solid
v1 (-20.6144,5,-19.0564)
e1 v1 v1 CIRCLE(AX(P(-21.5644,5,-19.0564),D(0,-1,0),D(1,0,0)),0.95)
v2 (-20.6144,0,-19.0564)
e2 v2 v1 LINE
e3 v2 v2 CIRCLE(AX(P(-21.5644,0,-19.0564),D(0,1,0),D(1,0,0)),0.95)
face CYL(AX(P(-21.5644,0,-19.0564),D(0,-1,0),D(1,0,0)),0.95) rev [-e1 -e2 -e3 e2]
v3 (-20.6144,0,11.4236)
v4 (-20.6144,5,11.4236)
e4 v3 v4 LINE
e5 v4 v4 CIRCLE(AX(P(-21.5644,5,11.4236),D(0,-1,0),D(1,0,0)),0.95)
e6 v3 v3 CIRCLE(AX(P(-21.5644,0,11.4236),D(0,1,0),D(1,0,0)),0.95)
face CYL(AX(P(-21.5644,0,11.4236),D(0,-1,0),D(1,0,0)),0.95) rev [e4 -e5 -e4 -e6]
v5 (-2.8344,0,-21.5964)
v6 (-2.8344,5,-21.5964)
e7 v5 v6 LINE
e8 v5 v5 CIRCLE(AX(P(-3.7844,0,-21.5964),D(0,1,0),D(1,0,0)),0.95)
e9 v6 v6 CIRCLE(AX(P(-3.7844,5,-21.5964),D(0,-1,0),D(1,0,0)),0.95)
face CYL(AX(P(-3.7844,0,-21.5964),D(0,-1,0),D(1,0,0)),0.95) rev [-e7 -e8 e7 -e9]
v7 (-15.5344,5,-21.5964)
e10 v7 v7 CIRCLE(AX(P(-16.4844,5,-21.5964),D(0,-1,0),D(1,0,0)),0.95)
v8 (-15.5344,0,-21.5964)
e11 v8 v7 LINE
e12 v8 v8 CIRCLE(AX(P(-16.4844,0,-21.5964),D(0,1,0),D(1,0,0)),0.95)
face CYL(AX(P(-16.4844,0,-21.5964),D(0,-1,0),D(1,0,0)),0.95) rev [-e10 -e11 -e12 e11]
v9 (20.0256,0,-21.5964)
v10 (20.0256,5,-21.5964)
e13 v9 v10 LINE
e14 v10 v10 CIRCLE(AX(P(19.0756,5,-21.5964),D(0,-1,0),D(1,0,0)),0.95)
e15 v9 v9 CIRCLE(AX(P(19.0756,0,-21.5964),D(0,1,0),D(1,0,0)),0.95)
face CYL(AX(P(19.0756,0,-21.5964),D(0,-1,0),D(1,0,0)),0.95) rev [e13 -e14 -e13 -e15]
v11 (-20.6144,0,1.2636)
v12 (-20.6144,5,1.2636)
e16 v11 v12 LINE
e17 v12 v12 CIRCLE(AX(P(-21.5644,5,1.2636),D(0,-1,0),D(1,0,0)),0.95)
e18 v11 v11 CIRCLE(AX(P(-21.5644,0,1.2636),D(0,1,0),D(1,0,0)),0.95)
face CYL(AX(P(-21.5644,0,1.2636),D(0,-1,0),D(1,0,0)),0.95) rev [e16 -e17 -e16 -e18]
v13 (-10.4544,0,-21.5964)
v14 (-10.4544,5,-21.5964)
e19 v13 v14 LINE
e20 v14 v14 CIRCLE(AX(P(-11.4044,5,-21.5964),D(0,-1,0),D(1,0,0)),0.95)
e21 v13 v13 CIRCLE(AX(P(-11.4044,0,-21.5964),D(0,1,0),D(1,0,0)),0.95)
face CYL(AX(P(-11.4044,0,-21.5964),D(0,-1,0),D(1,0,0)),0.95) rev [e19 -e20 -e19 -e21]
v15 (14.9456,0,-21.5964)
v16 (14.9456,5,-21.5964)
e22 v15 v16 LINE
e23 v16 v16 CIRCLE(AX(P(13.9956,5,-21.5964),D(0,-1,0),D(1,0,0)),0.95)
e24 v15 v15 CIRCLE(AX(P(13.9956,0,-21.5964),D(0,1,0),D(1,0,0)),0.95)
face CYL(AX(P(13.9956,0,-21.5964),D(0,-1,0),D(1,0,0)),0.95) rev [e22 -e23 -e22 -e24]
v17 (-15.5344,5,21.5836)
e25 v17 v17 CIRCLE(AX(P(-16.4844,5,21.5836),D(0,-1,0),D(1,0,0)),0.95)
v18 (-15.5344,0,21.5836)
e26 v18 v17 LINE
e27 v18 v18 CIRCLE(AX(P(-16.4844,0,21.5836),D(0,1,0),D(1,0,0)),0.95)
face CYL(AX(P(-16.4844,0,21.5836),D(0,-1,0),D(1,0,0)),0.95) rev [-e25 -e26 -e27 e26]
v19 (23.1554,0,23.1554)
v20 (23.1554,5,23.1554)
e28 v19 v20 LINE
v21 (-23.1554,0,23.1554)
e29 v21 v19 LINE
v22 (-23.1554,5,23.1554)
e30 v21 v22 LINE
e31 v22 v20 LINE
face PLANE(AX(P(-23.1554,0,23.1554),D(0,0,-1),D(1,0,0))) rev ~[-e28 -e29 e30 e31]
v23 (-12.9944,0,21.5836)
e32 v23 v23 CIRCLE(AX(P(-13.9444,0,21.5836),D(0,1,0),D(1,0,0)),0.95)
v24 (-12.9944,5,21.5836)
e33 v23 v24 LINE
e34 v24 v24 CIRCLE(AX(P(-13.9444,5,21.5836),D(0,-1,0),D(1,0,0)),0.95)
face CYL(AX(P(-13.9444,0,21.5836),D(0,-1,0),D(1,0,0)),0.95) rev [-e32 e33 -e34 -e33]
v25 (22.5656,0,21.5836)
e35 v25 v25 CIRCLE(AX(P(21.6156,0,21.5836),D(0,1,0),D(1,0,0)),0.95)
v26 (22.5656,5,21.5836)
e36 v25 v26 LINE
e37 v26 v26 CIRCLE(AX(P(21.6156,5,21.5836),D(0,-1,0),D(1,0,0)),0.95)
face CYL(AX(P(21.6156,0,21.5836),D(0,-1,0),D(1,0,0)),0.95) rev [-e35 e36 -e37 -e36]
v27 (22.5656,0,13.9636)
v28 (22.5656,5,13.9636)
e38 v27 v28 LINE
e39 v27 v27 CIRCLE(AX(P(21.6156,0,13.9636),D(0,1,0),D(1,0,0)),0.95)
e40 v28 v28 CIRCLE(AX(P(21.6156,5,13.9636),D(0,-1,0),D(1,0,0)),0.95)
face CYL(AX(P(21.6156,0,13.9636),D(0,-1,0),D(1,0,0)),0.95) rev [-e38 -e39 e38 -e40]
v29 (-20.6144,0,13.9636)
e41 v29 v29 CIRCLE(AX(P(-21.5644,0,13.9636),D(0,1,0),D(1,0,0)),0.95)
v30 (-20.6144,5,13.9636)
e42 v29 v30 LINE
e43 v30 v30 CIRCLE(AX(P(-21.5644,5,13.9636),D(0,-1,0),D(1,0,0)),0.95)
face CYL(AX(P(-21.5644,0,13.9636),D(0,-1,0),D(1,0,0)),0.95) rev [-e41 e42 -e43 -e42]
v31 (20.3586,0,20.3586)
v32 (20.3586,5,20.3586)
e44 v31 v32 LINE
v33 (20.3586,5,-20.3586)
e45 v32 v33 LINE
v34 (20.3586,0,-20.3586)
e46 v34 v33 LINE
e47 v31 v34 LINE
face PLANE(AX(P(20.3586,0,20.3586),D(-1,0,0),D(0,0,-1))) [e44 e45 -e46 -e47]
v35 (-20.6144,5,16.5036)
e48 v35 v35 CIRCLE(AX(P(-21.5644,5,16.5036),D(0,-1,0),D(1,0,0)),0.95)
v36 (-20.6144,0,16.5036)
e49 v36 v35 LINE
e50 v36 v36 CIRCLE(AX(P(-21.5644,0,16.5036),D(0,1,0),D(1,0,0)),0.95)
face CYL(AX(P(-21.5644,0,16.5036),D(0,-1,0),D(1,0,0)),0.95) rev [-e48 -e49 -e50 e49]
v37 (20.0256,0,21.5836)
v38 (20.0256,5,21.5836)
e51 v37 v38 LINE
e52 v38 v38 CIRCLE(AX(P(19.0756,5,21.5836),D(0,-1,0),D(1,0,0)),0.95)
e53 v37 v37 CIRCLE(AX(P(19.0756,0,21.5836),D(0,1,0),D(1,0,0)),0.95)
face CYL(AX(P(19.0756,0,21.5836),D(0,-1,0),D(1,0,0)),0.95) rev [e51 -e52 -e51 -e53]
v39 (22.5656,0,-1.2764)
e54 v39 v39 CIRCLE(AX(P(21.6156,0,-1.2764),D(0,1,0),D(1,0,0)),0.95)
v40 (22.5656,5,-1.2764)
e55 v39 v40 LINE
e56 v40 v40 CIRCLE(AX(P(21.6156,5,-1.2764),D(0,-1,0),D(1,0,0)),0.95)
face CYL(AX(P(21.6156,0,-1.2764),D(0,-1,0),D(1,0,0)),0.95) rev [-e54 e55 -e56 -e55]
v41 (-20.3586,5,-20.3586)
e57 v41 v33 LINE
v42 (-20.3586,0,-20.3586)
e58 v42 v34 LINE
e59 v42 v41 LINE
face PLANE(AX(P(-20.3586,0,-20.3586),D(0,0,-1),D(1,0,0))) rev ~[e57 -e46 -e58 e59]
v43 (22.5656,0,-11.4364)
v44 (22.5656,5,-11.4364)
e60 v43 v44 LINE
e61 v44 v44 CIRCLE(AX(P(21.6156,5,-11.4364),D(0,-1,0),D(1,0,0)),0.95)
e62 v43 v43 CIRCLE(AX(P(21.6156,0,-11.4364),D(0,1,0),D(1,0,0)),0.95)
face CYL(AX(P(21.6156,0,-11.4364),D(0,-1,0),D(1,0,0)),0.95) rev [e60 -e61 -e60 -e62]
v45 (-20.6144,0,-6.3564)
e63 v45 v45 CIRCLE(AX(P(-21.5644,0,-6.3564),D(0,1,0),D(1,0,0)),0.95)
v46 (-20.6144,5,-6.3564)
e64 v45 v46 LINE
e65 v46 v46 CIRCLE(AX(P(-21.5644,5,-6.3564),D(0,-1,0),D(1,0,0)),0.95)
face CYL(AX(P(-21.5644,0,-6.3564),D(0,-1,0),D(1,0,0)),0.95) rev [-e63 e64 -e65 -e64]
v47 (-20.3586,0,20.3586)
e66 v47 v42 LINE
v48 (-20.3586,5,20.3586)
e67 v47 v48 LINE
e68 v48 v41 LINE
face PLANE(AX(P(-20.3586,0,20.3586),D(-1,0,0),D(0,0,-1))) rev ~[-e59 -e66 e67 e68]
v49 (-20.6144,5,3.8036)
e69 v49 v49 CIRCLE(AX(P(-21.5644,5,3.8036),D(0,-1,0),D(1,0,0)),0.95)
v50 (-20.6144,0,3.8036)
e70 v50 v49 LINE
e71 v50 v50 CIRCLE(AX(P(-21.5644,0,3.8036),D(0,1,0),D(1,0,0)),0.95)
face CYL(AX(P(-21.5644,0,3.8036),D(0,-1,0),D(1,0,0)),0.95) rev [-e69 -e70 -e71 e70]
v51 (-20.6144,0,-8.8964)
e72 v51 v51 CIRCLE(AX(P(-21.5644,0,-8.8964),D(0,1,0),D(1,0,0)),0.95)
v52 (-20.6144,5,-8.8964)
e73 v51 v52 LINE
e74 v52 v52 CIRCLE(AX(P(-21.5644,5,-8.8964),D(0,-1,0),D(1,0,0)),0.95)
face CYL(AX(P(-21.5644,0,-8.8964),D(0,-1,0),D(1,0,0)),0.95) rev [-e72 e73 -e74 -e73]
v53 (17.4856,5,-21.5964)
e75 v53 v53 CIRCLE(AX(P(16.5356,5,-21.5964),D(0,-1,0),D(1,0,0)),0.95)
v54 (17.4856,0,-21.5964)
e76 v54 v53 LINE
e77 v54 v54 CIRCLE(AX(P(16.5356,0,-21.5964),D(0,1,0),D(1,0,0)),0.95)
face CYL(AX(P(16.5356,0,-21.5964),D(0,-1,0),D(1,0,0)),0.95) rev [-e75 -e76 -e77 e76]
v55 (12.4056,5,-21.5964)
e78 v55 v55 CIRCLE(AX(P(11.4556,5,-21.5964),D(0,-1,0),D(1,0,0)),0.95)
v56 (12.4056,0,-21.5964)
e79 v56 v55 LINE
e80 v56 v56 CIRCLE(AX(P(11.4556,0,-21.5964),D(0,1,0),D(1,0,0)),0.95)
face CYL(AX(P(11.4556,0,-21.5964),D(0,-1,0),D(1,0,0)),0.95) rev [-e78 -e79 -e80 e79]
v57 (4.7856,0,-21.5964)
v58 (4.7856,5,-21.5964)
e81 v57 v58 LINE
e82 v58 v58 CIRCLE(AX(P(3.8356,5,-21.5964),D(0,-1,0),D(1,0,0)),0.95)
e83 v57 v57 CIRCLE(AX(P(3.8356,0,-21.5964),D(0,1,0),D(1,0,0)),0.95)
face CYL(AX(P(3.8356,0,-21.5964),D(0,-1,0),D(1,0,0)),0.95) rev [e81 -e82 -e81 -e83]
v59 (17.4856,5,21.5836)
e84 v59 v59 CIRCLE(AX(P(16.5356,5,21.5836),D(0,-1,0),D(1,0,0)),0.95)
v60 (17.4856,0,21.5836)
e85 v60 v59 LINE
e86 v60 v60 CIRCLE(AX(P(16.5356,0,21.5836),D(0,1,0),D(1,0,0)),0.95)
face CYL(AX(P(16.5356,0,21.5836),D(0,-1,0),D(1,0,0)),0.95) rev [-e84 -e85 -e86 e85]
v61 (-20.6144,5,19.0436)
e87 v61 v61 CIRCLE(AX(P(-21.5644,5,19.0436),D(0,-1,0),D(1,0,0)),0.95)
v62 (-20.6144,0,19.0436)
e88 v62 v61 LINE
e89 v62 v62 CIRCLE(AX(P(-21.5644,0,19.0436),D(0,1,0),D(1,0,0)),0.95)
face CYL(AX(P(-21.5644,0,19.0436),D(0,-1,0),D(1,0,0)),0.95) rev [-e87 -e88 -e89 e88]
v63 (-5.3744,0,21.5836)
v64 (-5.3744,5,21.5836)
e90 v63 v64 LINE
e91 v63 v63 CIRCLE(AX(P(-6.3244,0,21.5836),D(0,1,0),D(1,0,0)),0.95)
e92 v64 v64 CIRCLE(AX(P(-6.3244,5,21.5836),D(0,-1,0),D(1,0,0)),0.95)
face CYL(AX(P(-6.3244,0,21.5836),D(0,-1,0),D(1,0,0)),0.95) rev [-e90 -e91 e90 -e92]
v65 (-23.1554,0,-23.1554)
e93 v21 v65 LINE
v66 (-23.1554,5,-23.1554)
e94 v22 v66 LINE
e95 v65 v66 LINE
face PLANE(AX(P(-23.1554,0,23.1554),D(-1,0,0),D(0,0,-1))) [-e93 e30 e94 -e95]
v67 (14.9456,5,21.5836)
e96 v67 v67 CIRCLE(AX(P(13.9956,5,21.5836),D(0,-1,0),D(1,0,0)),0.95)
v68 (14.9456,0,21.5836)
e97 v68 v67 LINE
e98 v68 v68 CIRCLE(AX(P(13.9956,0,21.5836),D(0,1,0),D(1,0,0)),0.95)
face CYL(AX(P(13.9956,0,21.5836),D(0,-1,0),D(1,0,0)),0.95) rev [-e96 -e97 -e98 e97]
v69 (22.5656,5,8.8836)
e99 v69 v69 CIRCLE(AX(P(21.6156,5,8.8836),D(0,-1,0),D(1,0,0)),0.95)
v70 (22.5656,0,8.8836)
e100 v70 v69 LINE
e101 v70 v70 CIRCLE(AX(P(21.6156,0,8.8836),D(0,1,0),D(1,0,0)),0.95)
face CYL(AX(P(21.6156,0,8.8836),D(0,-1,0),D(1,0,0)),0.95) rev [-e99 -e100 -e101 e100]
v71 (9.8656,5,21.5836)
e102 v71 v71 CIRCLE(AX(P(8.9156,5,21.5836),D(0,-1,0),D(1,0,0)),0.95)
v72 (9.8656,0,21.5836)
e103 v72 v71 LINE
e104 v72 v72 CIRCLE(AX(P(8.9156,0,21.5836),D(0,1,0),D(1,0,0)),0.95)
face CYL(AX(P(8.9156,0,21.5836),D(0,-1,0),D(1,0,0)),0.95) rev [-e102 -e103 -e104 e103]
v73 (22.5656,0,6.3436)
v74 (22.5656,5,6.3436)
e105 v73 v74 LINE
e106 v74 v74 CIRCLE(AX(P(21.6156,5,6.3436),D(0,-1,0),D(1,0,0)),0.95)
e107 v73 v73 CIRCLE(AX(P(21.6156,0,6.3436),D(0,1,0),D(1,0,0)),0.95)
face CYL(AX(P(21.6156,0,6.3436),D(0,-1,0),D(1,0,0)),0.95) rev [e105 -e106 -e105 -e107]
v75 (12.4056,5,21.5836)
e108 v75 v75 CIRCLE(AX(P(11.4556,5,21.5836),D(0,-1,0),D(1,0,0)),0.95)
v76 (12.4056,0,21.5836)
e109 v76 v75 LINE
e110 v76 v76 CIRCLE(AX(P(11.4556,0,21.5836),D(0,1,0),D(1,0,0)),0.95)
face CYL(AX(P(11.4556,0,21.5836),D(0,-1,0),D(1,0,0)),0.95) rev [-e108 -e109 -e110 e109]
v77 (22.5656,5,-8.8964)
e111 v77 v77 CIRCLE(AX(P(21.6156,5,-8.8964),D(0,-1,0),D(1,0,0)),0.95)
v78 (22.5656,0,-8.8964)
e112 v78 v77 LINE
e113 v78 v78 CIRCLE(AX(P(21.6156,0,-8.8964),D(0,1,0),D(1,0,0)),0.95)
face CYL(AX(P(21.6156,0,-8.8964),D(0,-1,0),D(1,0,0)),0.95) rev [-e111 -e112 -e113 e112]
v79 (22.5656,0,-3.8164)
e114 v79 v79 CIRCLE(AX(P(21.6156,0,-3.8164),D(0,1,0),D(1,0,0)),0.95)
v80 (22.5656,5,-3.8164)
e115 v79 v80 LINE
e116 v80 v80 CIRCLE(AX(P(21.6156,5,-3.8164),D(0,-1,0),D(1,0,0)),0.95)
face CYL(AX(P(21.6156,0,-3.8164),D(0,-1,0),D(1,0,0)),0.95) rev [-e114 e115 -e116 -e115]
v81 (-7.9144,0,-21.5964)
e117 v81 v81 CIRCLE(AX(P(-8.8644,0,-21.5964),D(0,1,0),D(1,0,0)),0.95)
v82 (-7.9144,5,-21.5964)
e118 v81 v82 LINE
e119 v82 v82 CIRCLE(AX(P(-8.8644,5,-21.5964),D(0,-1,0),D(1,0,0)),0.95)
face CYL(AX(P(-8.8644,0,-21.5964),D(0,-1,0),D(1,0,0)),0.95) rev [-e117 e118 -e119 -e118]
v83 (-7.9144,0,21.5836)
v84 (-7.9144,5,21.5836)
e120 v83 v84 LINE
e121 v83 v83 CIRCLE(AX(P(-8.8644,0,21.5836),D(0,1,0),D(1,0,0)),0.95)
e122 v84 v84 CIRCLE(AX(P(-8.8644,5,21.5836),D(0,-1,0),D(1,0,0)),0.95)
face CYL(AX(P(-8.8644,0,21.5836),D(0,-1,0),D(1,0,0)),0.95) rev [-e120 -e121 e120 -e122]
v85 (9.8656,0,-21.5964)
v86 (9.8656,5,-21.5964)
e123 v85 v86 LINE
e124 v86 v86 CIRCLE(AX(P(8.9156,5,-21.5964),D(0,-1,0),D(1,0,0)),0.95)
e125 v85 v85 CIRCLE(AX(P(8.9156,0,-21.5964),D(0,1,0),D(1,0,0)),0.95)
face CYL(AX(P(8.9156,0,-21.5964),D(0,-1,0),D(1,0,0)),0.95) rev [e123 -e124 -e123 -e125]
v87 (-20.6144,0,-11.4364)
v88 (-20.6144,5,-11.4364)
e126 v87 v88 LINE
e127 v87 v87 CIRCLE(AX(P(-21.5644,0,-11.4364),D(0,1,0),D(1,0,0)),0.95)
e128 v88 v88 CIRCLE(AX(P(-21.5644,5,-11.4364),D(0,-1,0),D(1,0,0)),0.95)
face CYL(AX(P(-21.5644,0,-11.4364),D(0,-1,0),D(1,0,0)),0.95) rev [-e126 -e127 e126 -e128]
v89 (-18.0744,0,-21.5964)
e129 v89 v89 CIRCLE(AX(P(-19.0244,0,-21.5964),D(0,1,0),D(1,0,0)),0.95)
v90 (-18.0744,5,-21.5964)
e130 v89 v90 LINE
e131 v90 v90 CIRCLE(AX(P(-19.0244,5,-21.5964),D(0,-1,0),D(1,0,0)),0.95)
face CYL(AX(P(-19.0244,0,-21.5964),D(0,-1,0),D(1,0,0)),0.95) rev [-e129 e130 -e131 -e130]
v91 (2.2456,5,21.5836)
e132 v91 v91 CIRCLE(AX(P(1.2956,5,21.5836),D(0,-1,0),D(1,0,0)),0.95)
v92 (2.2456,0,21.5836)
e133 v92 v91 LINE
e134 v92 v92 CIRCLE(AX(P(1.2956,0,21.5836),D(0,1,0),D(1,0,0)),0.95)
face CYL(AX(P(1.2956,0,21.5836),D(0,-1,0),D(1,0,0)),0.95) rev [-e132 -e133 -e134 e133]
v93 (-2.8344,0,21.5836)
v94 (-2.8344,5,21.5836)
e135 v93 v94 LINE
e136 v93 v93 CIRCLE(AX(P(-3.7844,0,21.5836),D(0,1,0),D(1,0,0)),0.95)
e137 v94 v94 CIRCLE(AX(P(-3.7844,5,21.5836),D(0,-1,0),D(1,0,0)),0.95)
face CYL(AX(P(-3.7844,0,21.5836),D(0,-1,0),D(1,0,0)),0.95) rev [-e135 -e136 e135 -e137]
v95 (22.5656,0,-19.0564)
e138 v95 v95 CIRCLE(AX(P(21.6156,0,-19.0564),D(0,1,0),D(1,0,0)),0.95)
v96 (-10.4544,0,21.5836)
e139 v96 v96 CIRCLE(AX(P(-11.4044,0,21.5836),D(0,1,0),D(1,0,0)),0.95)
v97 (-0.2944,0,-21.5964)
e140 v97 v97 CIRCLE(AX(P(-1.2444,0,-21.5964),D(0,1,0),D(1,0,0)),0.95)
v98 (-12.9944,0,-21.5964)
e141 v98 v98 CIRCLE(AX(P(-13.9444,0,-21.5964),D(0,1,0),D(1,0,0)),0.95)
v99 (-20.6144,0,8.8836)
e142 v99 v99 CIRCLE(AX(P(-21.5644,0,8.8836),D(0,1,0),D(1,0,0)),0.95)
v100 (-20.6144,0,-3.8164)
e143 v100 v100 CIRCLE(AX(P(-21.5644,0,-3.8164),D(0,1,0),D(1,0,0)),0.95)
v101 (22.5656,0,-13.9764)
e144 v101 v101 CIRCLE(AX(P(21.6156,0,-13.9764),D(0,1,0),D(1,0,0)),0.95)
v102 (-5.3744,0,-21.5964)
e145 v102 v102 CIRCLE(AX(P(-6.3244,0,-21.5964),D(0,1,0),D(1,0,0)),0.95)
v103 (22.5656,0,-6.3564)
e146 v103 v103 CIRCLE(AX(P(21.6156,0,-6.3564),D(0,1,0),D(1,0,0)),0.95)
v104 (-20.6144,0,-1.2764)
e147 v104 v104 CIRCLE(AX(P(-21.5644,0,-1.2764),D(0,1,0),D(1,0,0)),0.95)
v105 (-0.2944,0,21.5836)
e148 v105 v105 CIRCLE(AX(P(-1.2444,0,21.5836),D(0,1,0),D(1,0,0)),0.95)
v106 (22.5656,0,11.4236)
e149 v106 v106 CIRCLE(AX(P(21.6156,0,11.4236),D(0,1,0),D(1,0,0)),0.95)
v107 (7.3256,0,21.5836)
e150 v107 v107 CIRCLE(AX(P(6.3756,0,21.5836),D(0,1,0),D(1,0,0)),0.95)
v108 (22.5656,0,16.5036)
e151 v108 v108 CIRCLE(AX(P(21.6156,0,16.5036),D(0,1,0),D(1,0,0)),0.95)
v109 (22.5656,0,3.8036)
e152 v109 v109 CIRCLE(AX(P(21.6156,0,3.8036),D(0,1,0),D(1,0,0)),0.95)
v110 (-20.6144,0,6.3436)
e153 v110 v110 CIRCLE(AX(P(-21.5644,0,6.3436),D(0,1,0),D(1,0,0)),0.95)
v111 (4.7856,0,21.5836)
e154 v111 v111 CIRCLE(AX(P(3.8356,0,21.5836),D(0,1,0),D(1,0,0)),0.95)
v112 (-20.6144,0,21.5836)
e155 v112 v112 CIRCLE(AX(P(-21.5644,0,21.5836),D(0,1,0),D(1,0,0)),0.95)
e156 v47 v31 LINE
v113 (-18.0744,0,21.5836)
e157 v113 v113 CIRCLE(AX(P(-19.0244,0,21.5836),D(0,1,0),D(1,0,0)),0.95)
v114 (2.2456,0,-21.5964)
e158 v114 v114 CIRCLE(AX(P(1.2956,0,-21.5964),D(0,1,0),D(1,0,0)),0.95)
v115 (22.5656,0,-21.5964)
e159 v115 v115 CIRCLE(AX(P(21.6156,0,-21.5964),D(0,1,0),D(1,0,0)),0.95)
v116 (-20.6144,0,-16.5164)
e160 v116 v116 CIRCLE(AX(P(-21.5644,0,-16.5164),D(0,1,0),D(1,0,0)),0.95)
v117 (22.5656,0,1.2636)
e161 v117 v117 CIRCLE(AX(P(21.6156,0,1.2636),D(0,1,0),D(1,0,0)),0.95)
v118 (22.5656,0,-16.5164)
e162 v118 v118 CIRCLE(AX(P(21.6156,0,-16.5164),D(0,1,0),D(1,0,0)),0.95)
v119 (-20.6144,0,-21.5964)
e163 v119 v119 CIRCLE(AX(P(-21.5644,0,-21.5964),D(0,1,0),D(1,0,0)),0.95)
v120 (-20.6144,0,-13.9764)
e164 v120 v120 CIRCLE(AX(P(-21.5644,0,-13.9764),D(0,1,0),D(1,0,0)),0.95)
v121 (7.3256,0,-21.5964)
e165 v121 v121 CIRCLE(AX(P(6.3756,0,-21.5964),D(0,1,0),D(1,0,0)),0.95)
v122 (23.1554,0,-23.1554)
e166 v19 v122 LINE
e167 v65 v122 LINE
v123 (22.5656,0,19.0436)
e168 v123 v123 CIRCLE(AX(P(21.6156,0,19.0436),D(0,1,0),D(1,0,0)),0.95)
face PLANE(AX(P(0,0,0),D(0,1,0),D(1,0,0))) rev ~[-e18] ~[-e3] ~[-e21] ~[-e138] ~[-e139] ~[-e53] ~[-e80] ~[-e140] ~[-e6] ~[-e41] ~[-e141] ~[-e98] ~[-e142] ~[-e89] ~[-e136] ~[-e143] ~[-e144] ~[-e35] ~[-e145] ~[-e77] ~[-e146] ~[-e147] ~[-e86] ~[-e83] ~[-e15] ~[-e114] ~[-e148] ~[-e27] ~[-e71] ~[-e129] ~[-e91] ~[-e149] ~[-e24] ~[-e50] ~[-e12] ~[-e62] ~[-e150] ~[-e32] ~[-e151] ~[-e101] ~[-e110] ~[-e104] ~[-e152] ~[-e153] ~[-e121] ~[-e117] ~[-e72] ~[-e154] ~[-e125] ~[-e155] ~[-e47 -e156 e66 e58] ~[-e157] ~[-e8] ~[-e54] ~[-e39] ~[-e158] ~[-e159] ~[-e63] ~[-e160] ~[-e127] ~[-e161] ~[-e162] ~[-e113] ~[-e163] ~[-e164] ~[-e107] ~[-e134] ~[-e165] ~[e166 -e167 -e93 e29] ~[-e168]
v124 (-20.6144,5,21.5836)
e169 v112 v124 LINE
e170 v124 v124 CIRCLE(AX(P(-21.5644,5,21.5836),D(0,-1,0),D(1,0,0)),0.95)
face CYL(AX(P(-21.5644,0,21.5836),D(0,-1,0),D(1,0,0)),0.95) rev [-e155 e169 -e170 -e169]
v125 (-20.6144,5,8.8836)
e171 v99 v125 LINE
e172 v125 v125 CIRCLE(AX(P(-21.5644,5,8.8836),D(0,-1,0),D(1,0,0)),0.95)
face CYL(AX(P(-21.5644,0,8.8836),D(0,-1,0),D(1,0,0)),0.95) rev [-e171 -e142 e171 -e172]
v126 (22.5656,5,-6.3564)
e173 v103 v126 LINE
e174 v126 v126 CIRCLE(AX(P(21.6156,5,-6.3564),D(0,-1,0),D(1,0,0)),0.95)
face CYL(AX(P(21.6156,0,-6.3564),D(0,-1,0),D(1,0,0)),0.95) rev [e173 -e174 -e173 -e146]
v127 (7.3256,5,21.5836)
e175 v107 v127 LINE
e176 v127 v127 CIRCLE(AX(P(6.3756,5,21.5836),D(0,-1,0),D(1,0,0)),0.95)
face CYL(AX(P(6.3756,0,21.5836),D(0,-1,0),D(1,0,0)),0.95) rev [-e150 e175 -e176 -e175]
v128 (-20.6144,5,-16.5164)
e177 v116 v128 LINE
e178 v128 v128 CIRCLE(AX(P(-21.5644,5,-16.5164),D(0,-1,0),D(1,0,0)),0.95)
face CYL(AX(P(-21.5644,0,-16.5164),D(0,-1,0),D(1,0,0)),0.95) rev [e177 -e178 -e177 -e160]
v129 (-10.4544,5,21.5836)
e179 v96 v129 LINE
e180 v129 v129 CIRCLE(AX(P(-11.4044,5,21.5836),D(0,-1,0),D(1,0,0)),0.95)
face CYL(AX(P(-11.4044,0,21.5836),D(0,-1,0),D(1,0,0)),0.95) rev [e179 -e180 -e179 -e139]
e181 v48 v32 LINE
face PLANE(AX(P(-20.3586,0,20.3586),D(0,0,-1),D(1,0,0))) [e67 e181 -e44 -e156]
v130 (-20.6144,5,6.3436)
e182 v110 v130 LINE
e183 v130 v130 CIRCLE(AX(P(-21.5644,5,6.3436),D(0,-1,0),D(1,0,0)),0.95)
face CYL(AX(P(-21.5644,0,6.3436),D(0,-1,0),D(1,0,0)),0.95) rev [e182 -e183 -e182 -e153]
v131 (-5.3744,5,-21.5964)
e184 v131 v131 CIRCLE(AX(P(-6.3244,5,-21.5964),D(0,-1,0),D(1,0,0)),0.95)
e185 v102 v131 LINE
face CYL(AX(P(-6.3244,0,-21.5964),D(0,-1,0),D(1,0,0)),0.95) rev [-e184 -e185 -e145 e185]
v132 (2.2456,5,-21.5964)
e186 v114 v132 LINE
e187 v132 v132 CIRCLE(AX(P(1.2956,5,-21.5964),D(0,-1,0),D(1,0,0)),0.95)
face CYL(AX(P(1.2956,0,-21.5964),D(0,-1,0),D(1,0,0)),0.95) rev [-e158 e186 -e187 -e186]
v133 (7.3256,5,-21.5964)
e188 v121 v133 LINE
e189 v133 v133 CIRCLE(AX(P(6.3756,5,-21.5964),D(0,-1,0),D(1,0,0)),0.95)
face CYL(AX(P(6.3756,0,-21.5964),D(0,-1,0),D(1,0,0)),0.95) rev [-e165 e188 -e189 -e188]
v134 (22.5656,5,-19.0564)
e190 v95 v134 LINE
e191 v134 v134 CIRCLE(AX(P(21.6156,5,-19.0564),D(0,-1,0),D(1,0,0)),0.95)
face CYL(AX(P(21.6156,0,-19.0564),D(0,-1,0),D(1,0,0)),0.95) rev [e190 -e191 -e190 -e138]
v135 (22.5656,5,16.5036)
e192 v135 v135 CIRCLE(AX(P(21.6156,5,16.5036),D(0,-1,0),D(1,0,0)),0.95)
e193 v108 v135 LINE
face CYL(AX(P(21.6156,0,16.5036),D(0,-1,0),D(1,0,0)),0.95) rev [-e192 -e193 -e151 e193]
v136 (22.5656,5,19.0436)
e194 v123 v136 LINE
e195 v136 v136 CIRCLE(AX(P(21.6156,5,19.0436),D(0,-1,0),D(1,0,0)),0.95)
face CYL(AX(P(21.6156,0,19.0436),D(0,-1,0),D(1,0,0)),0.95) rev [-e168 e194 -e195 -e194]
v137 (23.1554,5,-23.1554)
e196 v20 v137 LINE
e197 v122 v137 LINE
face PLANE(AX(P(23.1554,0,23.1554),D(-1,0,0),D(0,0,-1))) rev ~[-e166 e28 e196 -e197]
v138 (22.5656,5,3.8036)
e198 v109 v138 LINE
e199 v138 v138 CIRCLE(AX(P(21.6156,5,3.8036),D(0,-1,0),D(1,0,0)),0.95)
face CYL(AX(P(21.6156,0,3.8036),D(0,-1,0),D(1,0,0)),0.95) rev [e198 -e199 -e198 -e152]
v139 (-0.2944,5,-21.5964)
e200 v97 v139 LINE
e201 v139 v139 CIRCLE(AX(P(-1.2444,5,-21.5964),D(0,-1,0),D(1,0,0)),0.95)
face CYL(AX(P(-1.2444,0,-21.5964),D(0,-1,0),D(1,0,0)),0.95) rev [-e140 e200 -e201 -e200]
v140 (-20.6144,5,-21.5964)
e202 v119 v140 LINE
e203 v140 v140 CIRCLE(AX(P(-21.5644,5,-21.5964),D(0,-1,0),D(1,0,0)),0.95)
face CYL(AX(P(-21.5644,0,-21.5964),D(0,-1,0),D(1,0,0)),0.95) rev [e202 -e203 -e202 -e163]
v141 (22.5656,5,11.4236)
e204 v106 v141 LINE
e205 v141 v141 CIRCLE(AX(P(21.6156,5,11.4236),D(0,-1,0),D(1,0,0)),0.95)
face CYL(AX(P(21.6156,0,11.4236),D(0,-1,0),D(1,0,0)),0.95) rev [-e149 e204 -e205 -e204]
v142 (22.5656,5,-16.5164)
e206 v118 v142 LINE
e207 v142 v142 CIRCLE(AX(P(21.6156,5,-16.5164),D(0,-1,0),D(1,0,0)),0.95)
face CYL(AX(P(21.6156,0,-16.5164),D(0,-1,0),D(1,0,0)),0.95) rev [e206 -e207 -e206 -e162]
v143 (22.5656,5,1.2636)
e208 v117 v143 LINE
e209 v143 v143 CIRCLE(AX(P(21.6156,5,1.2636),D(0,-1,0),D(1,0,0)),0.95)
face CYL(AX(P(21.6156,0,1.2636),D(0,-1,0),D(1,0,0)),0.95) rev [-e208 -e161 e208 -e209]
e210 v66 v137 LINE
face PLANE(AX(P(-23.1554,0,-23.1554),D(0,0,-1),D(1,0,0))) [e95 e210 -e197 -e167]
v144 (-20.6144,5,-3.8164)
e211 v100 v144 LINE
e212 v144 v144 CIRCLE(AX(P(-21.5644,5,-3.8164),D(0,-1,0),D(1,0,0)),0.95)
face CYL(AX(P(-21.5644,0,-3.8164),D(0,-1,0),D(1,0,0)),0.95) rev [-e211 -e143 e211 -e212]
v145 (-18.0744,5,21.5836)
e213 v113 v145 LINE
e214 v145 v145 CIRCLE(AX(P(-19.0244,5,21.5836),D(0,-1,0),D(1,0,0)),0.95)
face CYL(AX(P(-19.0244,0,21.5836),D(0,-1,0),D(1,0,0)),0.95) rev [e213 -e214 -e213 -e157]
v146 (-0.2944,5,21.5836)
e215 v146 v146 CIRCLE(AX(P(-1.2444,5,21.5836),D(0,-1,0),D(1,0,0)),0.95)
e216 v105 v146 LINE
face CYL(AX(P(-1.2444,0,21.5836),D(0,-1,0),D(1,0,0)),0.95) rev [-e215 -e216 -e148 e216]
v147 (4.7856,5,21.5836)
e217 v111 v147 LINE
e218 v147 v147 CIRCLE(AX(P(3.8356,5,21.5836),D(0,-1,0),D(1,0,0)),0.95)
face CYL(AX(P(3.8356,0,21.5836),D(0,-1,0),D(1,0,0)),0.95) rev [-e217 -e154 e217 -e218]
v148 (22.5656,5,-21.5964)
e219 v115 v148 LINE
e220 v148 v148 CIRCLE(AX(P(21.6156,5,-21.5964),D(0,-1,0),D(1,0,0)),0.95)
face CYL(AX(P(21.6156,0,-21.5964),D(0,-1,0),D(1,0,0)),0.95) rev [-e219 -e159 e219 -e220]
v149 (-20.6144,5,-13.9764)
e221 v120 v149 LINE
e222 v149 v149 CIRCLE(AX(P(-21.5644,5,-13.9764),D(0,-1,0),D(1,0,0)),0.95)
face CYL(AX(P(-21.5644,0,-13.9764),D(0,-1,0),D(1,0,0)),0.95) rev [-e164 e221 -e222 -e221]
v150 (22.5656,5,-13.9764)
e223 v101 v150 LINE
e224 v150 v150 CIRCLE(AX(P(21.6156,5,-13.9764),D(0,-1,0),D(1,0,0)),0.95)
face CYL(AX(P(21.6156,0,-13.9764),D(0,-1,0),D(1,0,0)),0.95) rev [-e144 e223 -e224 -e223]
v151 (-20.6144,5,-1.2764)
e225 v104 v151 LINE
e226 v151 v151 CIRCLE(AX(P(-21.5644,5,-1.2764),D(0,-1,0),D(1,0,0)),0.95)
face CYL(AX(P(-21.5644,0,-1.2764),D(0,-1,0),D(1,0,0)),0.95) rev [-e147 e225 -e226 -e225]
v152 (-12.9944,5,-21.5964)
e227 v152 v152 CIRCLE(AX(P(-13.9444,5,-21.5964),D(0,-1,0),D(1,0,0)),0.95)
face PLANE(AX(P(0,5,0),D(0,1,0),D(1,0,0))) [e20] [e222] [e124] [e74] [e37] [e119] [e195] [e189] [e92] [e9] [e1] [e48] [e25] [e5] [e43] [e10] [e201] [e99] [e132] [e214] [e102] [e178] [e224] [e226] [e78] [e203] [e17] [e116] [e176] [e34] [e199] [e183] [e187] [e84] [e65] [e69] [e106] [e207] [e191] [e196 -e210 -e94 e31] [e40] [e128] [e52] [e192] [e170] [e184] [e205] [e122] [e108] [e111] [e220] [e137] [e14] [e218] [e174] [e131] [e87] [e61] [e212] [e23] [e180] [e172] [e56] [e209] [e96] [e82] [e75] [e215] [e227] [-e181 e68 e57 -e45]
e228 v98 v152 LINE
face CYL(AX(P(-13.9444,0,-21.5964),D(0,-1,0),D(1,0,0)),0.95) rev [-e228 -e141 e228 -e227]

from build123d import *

# Parameters (mm, degrees)
SKETCH2_W           = 46.3108
SKETCH2_H           = 46.3108
SKETCH2_W_2         = 40.7172
SKETCH2_H_2         = 40.7172
BOSS_EXTRUDE1_DEPTH = 5
SKETCH1_R           = 0.95
CUT_EXTRUDE1_DEPTH  = 6


with BuildPart() as part:
    # Sketch2 → Boss-Extrude1 (new body)
    with BuildSketch(Plane(origin=(0, 0, 0), x_dir=(1, 0, 0), z_dir=(0, 1, 0))):
        Rectangle(SKETCH2_W, SKETCH2_H)
        Rectangle(SKETCH2_W_2, SKETCH2_H_2, mode=Mode.SUBTRACT)
    extrude(amount=BOSS_EXTRUDE1_DEPTH)

    # Sketch1 → Cut-Extrude1 (cut, through all)
    with BuildSketch(Plane(origin=(0, 0, 0), x_dir=(1, 0, 0), z_dir=(0, 1, 0))):
        with Locations((-21.5644, 21.5964)):
            Circle(SKETCH1_R)
        with Locations((-19.0244, 21.5964)):
            Circle(SKETCH1_R)
        with Locations((-21.5644, 19.0564)):
            Circle(SKETCH1_R)
        with Locations((-16.4844, 21.5964)):
            Circle(SKETCH1_R)
        with Locations((-13.9444, 21.5964)):
            Circle(SKETCH1_R)
        with Locations((-11.4044, 21.5964)):
            Circle(SKETCH1_R)
        with Locations((-8.8644, 21.5964)):
            Circle(SKETCH1_R)
        with Locations((-6.3244, 21.5964)):
            Circle(SKETCH1_R)
        with Locations((-3.7844, 21.5964)):
            Circle(SKETCH1_R)
        with Locations((-1.2444, 21.5964)):
            Circle(SKETCH1_R)
        with Locations((1.2956, 21.5964)):
            Circle(SKETCH1_R)
        with Locations((3.8356, 21.5964)):
            Circle(SKETCH1_R)
        with Locations((6.3756, 21.5964)):
            Circle(SKETCH1_R)
        with Locations((8.9156, 21.5964)):
            Circle(SKETCH1_R)
        with Locations((11.4556, 21.5964)):
            Circle(SKETCH1_R)
        with Locations((13.9956, 21.5964)):
            Circle(SKETCH1_R)
        with Locations((16.5356, 21.5964)):
            Circle(SKETCH1_R)
        with Locations((19.0756, 21.5964)):
            Circle(SKETCH1_R)
        with Locations((21.6156, 21.5964)):
            Circle(SKETCH1_R)
        with Locations((-21.5644, 16.5164)):
            Circle(SKETCH1_R)
        with Locations((-21.5644, 13.9764)):
            Circle(SKETCH1_R)
        with Locations((-21.5644, 11.4364)):
            Circle(SKETCH1_R)
        with Locations((-21.5644, 8.8964)):
            Circle(SKETCH1_R)
        with Locations((-21.5644, 6.3564)):
            Circle(SKETCH1_R)
        with Locations((-21.5644, 3.8164)):
            Circle(SKETCH1_R)
        with Locations((-21.5644, 1.2764)):
            Circle(SKETCH1_R)
        with Locations((-21.5644, -1.2636)):
            Circle(SKETCH1_R)
        with Locations((-21.5644, -3.8036)):
            Circle(SKETCH1_R)
        with Locations((-21.5644, -6.3436)):
            Circle(SKETCH1_R)
        with Locations((-21.5644, -8.8836)):
            Circle(SKETCH1_R)
        with Locations((-21.5644, -11.4236)):
            Circle(SKETCH1_R)
        with Locations((-21.5644, -13.9636)):
            Circle(SKETCH1_R)
        with Locations((-21.5644, -16.5036)):
            Circle(SKETCH1_R)
        with Locations((-21.5644, -19.0436)):
            Circle(SKETCH1_R)
        with Locations((-21.5644, -21.5836)):
            Circle(SKETCH1_R)
        with Locations((-19.0244, -21.5836)):
            Circle(SKETCH1_R)
        with Locations((-16.4844, -21.5836)):
            Circle(SKETCH1_R)
        with Locations((-13.9444, -21.5836)):
            Circle(SKETCH1_R)
        with Locations((-11.4044, -21.5836)):
            Circle(SKETCH1_R)
        with Locations((-8.8644, -21.5836)):
            Circle(SKETCH1_R)
        with Locations((-6.3244, -21.5836)):
            Circle(SKETCH1_R)
        with Locations((-3.7844, -21.5836)):
            Circle(SKETCH1_R)
        with Locations((-1.2444, -21.5836)):
            Circle(SKETCH1_R)
        with Locations((1.2956, -21.5836)):
            Circle(SKETCH1_R)
        with Locations((3.8356, -21.5836)):
            Circle(SKETCH1_R)
        with Locations((6.3756, -21.5836)):
            Circle(SKETCH1_R)
        with Locations((8.9156, -21.5836)):
            Circle(SKETCH1_R)
        with Locations((11.4556, -21.5836)):
            Circle(SKETCH1_R)
        with Locations((13.9956, -21.5836)):
            Circle(SKETCH1_R)
        with Locations((16.5356, -21.5836)):
            Circle(SKETCH1_R)
        with Locations((19.0756, -21.5836)):
            Circle(SKETCH1_R)
        with Locations((21.6156, -21.5836)):
            Circle(SKETCH1_R)
        with Locations((21.6156, 19.0564)):
            Circle(SKETCH1_R)
        with Locations((21.6156, 16.5164)):
            Circle(SKETCH1_R)
        with Locations((21.6156, 11.4364)):
            Circle(SKETCH1_R)
        with Locations((21.6156, 8.8964)):
            Circle(SKETCH1_R)
        with Locations((21.6156, 6.3564)):
            Circle(SKETCH1_R)
        with Locations((21.6156, 3.8164)):
            Circle(SKETCH1_R)
        with Locations((21.6156, 1.2764)):
            Circle(SKETCH1_R)
        with Locations((21.6156, -1.2636)):
            Circle(SKETCH1_R)
        with Locations((21.6156, -3.8036)):
            Circle(SKETCH1_R)
        with Locations((21.6156, -6.3436)):
            Circle(SKETCH1_R)
        with Locations((21.6156, -8.8836)):
            Circle(SKETCH1_R)
        with Locations((21.6156, -11.4236)):
            Circle(SKETCH1_R)
        with Locations((21.6156, -13.9636)):
            Circle(SKETCH1_R)
        with Locations((21.6156, -16.5036)):
            Circle(SKETCH1_R)
        with Locations((21.6156, -19.0436)):
            Circle(SKETCH1_R)
        with Locations((21.6156, 13.9764)):
            Circle(SKETCH1_R)
    extrude(amount=CUT_EXTRUDE1_DEPTH, mode=Mode.SUBTRACT)


solid = part.part
